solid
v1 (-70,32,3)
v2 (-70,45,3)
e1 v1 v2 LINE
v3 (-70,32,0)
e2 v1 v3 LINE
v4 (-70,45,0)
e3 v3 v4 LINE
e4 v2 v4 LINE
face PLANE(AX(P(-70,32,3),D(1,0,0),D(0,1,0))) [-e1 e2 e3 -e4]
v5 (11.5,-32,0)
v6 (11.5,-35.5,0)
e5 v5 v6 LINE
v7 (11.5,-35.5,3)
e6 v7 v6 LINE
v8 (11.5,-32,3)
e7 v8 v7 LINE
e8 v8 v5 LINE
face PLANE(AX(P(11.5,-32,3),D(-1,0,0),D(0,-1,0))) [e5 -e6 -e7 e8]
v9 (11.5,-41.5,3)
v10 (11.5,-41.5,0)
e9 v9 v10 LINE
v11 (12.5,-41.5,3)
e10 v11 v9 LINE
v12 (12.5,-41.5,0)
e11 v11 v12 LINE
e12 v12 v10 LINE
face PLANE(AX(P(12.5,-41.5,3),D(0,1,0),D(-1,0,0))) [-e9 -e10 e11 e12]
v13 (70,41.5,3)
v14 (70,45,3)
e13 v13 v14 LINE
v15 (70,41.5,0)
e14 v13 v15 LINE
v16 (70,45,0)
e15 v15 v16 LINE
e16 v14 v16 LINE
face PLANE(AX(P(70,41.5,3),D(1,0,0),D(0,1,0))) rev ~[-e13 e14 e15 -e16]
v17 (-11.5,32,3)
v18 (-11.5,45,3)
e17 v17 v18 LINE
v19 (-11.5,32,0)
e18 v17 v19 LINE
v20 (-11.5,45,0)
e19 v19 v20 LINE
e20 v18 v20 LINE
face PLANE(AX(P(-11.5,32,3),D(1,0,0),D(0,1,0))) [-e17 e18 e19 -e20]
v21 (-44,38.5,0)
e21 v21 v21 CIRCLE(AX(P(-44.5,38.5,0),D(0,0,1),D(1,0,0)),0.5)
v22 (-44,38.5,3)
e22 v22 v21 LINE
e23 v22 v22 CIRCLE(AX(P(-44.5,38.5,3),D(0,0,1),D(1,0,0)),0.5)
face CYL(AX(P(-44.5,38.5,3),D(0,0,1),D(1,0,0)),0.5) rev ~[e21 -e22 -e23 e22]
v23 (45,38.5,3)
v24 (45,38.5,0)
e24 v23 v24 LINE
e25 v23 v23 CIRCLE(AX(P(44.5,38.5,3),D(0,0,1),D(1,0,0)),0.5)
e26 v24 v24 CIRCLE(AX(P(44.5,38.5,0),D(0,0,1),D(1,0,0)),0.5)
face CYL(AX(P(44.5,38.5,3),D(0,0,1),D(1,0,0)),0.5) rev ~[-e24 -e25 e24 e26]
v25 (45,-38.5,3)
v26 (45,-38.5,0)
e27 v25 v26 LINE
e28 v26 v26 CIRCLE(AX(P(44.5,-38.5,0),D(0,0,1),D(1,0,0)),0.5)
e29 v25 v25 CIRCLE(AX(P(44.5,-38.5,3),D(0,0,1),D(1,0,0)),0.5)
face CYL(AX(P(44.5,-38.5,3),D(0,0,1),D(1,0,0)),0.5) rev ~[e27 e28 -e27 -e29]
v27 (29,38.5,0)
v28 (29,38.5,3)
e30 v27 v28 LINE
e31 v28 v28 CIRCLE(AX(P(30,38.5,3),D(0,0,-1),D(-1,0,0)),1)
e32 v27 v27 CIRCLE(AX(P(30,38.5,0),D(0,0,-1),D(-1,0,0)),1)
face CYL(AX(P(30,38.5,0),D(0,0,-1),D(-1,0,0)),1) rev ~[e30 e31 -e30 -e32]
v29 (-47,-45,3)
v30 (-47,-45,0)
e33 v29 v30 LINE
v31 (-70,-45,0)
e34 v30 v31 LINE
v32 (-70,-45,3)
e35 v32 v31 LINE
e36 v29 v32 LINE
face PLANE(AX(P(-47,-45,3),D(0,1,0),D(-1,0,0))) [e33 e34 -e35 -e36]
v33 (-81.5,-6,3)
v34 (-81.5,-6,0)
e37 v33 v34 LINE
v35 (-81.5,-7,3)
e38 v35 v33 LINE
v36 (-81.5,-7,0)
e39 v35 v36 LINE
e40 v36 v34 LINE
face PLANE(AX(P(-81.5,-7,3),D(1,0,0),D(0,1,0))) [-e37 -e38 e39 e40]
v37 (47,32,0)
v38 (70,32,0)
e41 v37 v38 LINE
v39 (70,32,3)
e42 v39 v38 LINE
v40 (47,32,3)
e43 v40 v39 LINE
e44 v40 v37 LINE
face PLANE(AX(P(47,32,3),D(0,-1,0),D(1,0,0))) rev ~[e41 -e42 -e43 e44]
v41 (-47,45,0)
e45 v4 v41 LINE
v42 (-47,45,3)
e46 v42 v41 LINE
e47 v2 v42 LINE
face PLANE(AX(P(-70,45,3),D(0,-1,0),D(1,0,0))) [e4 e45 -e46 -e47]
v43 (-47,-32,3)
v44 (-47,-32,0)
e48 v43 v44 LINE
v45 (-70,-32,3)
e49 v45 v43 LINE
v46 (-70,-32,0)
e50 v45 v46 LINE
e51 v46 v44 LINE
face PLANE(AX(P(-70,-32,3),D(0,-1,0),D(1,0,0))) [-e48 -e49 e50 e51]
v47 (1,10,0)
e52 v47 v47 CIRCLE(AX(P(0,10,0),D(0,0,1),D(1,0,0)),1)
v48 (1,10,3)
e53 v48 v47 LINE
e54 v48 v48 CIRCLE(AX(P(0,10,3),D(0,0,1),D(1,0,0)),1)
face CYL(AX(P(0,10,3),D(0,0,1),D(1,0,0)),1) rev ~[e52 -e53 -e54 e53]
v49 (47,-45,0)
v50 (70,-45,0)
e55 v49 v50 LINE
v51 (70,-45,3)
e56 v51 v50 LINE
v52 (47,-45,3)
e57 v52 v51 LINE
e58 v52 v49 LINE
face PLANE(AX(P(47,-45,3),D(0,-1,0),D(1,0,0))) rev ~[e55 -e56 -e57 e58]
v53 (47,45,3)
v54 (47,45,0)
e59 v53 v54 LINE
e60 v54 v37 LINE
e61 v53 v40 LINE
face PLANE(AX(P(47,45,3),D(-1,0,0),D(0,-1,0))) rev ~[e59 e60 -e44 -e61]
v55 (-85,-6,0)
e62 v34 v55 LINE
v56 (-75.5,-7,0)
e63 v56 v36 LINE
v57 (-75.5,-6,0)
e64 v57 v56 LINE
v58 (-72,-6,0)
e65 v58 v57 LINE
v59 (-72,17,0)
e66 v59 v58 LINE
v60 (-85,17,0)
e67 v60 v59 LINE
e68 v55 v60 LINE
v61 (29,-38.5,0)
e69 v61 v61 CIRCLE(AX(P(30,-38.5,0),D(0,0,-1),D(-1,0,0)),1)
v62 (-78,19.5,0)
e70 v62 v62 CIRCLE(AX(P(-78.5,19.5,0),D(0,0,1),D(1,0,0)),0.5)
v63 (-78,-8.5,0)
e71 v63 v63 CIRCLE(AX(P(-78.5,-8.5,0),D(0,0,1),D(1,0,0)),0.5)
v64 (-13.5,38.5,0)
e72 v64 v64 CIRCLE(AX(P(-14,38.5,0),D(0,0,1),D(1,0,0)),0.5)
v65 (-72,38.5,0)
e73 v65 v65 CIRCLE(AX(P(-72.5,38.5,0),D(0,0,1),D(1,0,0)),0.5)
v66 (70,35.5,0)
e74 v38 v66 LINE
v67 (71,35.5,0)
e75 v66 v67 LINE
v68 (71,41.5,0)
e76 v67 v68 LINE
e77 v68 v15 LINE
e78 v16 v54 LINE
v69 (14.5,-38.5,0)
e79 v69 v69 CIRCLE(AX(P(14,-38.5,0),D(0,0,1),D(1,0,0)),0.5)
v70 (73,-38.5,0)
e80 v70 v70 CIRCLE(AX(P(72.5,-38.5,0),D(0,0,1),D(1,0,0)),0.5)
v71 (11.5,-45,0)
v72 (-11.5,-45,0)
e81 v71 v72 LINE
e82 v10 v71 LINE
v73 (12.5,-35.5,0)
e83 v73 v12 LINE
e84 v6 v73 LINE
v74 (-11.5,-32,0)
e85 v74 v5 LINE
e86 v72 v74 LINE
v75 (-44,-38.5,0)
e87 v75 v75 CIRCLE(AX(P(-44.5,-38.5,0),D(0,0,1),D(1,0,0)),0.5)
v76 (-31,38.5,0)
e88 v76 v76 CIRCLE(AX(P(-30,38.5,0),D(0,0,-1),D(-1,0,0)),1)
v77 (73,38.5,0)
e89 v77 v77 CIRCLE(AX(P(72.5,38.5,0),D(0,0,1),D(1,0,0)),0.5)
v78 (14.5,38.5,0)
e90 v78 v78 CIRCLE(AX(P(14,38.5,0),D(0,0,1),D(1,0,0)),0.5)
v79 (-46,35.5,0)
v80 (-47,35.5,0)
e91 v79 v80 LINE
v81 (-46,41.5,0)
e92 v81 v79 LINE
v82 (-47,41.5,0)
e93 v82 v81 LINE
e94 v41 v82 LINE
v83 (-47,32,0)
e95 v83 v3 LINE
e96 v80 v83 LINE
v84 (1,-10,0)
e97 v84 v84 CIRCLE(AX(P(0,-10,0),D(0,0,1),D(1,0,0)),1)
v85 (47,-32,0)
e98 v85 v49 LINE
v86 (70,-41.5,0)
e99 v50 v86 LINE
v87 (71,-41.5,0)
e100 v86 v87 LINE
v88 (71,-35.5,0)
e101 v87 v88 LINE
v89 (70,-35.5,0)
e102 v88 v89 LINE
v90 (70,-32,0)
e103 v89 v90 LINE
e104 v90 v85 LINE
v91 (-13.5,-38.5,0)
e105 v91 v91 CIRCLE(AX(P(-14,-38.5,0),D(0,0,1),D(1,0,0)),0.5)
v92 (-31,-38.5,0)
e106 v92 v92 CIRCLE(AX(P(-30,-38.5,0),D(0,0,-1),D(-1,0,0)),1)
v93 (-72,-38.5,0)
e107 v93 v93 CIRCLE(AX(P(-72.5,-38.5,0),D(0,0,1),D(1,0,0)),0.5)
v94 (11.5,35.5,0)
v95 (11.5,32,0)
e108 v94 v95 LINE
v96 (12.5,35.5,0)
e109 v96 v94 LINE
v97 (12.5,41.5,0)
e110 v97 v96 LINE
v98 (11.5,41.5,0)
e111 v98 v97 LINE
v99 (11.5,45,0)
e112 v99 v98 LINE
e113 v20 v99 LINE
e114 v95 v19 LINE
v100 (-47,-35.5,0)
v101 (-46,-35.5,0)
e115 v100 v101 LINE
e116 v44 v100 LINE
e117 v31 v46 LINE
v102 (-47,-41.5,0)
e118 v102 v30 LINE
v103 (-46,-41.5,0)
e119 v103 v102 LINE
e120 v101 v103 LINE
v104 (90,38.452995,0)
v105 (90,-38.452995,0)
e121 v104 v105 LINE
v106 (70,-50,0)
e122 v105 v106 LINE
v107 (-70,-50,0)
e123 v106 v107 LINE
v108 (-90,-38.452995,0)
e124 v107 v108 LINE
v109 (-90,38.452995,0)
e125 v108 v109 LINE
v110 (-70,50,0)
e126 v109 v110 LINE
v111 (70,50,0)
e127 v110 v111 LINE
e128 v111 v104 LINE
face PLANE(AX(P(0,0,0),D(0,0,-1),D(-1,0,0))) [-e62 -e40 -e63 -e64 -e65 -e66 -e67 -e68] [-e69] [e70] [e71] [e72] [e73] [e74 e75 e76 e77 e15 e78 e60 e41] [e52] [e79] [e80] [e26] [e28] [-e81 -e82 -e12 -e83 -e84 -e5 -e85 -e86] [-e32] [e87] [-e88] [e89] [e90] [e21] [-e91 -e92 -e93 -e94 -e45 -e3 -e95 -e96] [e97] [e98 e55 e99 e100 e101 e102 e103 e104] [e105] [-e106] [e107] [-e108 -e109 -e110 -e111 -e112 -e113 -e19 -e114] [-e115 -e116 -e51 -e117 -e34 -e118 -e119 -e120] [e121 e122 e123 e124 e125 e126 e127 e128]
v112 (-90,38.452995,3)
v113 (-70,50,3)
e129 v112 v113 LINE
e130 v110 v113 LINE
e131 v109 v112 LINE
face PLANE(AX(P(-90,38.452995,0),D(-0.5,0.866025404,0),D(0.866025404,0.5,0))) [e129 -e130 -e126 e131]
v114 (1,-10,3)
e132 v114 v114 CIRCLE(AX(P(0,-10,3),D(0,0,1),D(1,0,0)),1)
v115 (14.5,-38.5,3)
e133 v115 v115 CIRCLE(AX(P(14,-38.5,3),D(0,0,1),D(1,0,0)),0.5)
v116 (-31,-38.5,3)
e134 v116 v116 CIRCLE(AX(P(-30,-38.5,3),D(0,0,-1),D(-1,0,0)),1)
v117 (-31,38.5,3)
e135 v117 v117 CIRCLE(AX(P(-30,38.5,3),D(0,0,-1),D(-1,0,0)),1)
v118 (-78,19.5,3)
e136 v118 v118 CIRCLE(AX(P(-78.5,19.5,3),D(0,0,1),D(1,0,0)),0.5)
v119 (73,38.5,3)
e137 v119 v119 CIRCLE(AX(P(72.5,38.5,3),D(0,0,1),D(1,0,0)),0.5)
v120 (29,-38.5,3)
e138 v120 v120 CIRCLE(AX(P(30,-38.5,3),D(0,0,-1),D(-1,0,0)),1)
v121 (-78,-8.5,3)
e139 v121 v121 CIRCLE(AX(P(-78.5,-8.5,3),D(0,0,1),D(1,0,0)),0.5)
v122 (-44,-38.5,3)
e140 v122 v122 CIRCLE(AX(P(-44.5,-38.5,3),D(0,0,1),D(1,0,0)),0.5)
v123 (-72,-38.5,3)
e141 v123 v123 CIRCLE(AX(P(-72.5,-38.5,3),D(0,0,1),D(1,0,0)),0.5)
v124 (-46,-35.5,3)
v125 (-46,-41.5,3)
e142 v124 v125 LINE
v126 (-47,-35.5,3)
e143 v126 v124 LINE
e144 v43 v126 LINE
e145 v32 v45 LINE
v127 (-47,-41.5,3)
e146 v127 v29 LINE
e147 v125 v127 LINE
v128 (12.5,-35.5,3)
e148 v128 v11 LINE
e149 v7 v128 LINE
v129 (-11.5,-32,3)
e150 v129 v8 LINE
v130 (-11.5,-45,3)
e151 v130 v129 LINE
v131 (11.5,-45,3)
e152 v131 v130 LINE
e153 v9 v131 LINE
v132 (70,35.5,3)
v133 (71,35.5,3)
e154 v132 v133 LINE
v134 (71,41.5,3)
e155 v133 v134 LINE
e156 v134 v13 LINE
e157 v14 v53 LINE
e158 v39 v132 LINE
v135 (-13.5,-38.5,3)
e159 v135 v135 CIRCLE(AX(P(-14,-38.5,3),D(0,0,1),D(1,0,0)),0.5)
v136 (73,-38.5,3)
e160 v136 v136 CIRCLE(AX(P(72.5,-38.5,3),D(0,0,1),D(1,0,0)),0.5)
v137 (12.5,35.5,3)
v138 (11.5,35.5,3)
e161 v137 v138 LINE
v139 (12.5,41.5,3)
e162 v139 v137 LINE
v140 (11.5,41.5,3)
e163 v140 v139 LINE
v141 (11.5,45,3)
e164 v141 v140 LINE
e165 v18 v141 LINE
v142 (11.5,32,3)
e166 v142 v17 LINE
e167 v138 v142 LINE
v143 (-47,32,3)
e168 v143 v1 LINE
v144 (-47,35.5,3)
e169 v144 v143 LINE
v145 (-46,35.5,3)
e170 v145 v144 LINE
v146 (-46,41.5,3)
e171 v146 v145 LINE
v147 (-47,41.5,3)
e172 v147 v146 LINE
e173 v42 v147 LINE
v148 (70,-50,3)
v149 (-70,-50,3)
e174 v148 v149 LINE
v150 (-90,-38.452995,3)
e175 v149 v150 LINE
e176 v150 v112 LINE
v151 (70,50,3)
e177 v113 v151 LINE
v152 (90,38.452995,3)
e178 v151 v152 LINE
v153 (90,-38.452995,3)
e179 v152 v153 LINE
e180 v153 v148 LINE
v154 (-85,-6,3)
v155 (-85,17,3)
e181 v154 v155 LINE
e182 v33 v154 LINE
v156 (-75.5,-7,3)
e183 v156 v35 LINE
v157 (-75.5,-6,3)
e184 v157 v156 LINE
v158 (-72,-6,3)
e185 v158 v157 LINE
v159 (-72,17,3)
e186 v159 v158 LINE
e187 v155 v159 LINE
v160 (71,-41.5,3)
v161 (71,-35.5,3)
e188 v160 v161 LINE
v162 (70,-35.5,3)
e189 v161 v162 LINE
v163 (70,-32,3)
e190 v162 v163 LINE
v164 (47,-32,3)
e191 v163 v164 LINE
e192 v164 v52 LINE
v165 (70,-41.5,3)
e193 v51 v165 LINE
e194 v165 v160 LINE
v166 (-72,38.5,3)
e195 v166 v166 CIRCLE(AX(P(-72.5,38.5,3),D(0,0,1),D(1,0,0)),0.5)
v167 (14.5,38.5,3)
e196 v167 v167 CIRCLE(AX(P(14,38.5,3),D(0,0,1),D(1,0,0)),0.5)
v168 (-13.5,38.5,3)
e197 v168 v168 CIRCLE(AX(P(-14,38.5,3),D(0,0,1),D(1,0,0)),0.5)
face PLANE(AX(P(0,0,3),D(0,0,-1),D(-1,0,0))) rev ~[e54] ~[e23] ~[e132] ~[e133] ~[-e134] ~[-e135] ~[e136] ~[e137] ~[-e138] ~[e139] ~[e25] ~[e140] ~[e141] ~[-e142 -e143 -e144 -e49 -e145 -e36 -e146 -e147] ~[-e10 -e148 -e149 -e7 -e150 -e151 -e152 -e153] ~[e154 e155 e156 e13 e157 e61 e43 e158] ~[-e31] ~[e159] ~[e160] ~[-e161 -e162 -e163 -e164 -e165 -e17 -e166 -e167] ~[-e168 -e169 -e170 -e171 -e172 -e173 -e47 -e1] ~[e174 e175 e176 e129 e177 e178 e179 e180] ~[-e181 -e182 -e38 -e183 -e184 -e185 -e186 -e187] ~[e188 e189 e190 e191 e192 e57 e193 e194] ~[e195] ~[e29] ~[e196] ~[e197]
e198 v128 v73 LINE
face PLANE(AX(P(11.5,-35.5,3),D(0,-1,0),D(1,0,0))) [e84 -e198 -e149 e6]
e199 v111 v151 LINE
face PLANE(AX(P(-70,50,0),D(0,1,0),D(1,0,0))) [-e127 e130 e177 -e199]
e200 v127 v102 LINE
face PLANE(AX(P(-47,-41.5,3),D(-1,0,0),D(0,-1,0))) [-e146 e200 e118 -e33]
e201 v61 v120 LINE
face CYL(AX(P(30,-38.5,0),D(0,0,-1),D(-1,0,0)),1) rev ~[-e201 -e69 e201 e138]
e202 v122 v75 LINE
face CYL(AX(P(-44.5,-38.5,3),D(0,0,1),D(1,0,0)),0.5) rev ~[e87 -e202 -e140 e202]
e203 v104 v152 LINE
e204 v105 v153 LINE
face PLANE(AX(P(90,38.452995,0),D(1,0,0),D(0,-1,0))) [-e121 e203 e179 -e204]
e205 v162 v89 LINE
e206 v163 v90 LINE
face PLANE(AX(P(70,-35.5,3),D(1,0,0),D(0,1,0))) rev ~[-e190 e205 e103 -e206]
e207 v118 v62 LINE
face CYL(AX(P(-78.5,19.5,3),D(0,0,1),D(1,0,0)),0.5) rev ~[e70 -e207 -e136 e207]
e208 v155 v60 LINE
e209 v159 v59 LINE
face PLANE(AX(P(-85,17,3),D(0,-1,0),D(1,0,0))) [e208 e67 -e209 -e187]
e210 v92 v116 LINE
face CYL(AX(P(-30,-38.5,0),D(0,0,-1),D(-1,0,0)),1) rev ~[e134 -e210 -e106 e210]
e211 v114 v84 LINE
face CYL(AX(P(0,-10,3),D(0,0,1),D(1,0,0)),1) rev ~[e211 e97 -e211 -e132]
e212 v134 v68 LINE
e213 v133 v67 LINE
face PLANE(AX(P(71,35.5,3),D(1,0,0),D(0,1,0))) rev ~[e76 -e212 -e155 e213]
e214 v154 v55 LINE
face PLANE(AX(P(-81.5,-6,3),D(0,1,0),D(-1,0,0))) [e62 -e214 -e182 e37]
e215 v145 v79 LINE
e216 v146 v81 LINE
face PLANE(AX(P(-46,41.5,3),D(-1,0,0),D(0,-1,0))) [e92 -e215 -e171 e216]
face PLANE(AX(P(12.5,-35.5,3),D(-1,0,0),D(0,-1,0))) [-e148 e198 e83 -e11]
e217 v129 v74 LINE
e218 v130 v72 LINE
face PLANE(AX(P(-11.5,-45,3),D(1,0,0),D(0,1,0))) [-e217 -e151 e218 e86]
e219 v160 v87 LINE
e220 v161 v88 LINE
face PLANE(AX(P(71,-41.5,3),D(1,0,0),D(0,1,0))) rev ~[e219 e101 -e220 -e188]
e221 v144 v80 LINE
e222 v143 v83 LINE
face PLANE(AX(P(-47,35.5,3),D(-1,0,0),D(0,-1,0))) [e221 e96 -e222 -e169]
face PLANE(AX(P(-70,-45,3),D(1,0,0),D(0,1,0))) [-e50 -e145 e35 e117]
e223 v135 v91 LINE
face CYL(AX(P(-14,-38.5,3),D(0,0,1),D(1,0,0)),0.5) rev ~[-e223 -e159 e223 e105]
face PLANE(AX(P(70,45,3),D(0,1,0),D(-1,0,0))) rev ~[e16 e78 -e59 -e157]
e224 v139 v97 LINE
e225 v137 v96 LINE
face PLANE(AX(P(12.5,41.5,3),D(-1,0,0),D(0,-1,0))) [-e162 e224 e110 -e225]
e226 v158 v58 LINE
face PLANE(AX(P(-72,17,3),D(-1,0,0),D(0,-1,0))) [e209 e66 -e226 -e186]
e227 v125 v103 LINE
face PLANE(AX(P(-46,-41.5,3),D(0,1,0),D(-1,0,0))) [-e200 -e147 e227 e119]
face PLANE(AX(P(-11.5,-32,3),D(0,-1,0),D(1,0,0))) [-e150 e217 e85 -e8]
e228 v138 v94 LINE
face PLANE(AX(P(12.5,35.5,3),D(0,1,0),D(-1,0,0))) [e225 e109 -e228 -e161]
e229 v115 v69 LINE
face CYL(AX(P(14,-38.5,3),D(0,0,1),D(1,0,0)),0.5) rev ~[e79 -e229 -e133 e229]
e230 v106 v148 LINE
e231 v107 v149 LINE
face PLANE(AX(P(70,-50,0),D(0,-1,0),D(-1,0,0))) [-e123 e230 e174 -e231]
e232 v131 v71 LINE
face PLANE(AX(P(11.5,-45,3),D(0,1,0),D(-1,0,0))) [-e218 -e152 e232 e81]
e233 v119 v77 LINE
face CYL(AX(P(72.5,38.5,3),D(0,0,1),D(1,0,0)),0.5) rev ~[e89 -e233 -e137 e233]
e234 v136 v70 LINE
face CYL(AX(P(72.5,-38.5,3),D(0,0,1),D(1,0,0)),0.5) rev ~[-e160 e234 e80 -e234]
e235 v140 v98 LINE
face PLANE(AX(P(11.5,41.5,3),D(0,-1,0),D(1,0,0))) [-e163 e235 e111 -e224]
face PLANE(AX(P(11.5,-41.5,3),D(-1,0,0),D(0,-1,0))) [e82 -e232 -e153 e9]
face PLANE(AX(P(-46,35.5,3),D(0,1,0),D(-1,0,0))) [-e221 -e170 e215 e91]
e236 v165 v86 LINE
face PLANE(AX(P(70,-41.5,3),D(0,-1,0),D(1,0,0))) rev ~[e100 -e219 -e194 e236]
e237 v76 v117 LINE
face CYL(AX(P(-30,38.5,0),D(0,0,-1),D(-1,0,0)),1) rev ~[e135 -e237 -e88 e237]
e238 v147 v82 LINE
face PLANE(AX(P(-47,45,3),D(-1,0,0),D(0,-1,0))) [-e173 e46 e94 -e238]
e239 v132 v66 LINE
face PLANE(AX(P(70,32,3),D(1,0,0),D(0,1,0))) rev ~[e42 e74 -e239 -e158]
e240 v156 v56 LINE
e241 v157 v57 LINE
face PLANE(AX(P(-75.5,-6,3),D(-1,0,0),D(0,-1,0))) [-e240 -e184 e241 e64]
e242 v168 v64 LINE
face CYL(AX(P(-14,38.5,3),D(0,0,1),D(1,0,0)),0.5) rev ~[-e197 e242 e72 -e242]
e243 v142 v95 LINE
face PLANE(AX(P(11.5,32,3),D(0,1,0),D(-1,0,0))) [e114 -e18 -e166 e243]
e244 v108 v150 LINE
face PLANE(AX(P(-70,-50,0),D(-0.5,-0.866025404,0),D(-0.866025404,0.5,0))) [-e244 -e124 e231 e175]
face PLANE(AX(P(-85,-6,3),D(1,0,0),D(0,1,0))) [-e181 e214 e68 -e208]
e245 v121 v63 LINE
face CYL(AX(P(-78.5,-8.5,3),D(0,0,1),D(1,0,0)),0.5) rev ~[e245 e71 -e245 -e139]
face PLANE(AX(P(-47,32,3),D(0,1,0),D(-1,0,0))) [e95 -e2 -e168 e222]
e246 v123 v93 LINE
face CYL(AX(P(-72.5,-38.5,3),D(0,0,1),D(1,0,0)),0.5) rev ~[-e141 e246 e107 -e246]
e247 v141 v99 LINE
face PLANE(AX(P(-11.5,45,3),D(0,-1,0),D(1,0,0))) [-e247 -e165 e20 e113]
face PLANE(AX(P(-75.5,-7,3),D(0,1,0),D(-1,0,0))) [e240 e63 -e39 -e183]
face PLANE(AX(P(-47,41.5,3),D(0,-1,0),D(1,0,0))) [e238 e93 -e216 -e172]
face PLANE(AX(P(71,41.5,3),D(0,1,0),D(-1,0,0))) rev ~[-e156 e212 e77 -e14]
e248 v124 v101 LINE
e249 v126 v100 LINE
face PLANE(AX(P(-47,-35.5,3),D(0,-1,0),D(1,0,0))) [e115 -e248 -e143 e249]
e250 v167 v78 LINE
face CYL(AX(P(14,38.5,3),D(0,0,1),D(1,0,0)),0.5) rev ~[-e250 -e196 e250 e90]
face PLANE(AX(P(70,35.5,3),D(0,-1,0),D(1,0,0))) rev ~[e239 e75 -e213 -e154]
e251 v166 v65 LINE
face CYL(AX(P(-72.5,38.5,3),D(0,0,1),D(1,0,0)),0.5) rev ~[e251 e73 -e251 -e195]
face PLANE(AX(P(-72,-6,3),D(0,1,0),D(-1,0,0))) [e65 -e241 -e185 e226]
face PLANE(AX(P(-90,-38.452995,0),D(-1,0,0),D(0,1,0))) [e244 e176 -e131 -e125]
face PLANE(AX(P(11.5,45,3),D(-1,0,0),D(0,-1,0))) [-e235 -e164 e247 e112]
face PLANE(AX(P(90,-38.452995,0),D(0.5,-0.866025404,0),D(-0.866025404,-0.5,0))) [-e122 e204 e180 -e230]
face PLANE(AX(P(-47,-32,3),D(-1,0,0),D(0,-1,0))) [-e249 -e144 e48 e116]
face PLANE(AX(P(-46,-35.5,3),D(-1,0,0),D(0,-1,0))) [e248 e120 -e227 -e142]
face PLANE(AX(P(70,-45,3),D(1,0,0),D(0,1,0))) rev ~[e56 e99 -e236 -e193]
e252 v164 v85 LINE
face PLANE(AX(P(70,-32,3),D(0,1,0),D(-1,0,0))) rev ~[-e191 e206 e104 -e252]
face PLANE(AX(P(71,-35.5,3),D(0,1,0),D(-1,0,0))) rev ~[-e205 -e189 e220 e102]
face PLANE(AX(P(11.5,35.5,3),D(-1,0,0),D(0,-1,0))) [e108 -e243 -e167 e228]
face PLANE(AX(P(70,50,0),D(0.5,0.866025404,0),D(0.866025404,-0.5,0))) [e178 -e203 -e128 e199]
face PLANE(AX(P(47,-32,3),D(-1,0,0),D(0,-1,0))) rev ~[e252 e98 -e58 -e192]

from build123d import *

# Parameters (mm, degrees)
BOSS_EXTRUDE1_DEPTH = 3
CUT_EXTRUDE1_REACH  = 105
SKETCH2_R           = 0.5
SKETCH2_R_2         = 1
CUT_EXTRUDE2_REACH  = 105
SKETCH3_R           = 0.5
CUT_EXTRUDE3_REACH  = 105
SKETCH5_R           = 1


with BuildPart() as part:
    # Sketch1 → Boss-Extrude1 (new body)
    with BuildSketch(Plane.XY):
        Polygon((70, 50), (90, 38.452994616), (90, -38.452994616), (70, -50), (-70, -50), (-90, -38.452994616), (-90, 38.452994616), (-70, 50), align=None)
    extrude(amount=BOSS_EXTRUDE1_DEPTH)

    # Sketch2 → Cut-Extrude1 (cut, up to next)
    with BuildSketch(Plane.XY.offset(3), mode=Mode.PRIVATE) as cut_extrude1_sk1:
        with Locations((-72.5, 38.5)):
            Circle(SKETCH2_R)
    cut_extrude1_tool1 = extrude(cut_extrude1_sk1.sketch, amount=-CUT_EXTRUDE1_REACH, mode=Mode.PRIVATE) & part.part
    # Sketch2 → Cut-Extrude1 (cut, up to next)
    with BuildSketch(Plane.XY.offset(3), mode=Mode.PRIVATE) as cut_extrude1_sk2:
        with Locations((-44.5, 38.5)):
            Circle(SKETCH2_R)
    cut_extrude1_tool2 = extrude(cut_extrude1_sk2.sketch, amount=-CUT_EXTRUDE1_REACH, mode=Mode.PRIVATE) & part.part
    # Sketch2 → Cut-Extrude1 (cut, up to next)
    with BuildSketch(Plane.XY.offset(3), mode=Mode.PRIVATE) as cut_extrude1_sk3:
        with Locations((-14, 38.5)):
            Circle(SKETCH2_R)
    cut_extrude1_tool3 = extrude(cut_extrude1_sk3.sketch, amount=-CUT_EXTRUDE1_REACH, mode=Mode.PRIVATE) & part.part
    # Sketch2 → Cut-Extrude1 (cut, up to next)
    with BuildSketch(Plane.XY.offset(3), mode=Mode.PRIVATE) as cut_extrude1_sk4:
        with Locations((14, 38.5)):
            Circle(SKETCH2_R)
    cut_extrude1_tool4 = extrude(cut_extrude1_sk4.sketch, amount=-CUT_EXTRUDE1_REACH, mode=Mode.PRIVATE) & part.part
    # Sketch2 → Cut-Extrude1 (cut, up to next)
    with BuildSketch(Plane.XY.offset(3), mode=Mode.PRIVATE) as cut_extrude1_sk5:
        with Locations((44.5, 38.5)):
            Circle(SKETCH2_R)
    cut_extrude1_tool5 = extrude(cut_extrude1_sk5.sketch, amount=-CUT_EXTRUDE1_REACH, mode=Mode.PRIVATE) & part.part
    # Sketch2 → Cut-Extrude1 (cut, up to next)
    with BuildSketch(Plane.XY.offset(3), mode=Mode.PRIVATE) as cut_extrude1_sk6:
        with Locations((72.5, 38.5)):
            Circle(SKETCH2_R)
    cut_extrude1_tool6 = extrude(cut_extrude1_sk6.sketch, amount=-CUT_EXTRUDE1_REACH, mode=Mode.PRIVATE) & part.part
    # Sketch2 → Cut-Extrude1 (cut, up to next)
    with BuildSketch(Plane.XY.offset(3), mode=Mode.PRIVATE) as cut_extrude1_sk7:
        with Locations((72.5, -38.5)):
            Circle(SKETCH2_R)
    cut_extrude1_tool7 = extrude(cut_extrude1_sk7.sketch, amount=-CUT_EXTRUDE1_REACH, mode=Mode.PRIVATE) & part.part
    # Sketch2 → Cut-Extrude1 (cut, up to next)
    with BuildSketch(Plane.XY.offset(3), mode=Mode.PRIVATE) as cut_extrude1_sk8:
        with Locations((44.5, -38.5)):
            Circle(SKETCH2_R)
    cut_extrude1_tool8 = extrude(cut_extrude1_sk8.sketch, amount=-CUT_EXTRUDE1_REACH, mode=Mode.PRIVATE) & part.part
    # Sketch2 → Cut-Extrude1 (cut, up to next)
    with BuildSketch(Plane.XY.offset(3), mode=Mode.PRIVATE) as cut_extrude1_sk9:
        with Locations((14, -38.5)):
            Circle(SKETCH2_R)
    cut_extrude1_tool9 = extrude(cut_extrude1_sk9.sketch, amount=-CUT_EXTRUDE1_REACH, mode=Mode.PRIVATE) & part.part
    # Sketch2 → Cut-Extrude1 (cut, up to next)
    with BuildSketch(Plane.XY.offset(3), mode=Mode.PRIVATE) as cut_extrude1_sk10:
        with Locations((-14, -38.5)):
            Circle(SKETCH2_R)
    cut_extrude1_tool10 = extrude(cut_extrude1_sk10.sketch, amount=-CUT_EXTRUDE1_REACH, mode=Mode.PRIVATE) & part.part
    # Sketch2 → Cut-Extrude1 (cut, up to next)
    with BuildSketch(Plane.XY.offset(3), mode=Mode.PRIVATE) as cut_extrude1_sk11:
        with Locations((-44.5, -38.5)):
            Circle(SKETCH2_R)
    cut_extrude1_tool11 = extrude(cut_extrude1_sk11.sketch, amount=-CUT_EXTRUDE1_REACH, mode=Mode.PRIVATE) & part.part
    # Sketch2 → Cut-Extrude1 (cut, up to next)
    with BuildSketch(Plane.XY.offset(3), mode=Mode.PRIVATE) as cut_extrude1_sk12:
        with Locations((-72.5, -38.5)):
            Circle(SKETCH2_R)
    cut_extrude1_tool12 = extrude(cut_extrude1_sk12.sketch, amount=-CUT_EXTRUDE1_REACH, mode=Mode.PRIVATE) & part.part
    # Sketch2 → Cut-Extrude1 (cut, up to next)
    with BuildSketch(Plane.XY.offset(3), mode=Mode.PRIVATE) as cut_extrude1_sk13:
        with Locations((0, 10)):
            Circle(SKETCH2_R_2)
    cut_extrude1_tool13 = extrude(cut_extrude1_sk13.sketch, amount=-CUT_EXTRUDE1_REACH, mode=Mode.PRIVATE) & part.part
    # Sketch2 → Cut-Extrude1 (cut, up to next)
    with BuildSketch(Plane.XY.offset(3), mode=Mode.PRIVATE) as cut_extrude1_sk14:
        with Locations((0, -10)):
            Circle(SKETCH2_R_2)
    cut_extrude1_tool14 = extrude(cut_extrude1_sk14.sketch, amount=-CUT_EXTRUDE1_REACH, mode=Mode.PRIVATE) & part.part
    # Sketch2 → Cut-Extrude1 (cut, up to next)
    with BuildSketch(Plane.XY.offset(3), mode=Mode.PRIVATE) as cut_extrude1_sk15:
        Polygon((-11.5, 45), (11.5, 45), (11.5, 41.5), (12.5, 41.5), (12.5, 35.5), (11.5, 35.5), (11.5, 32), (-11.5, 32), align=None)
    cut_extrude1_tool15 = extrude(cut_extrude1_sk15.sketch, amount=-CUT_EXTRUDE1_REACH, mode=Mode.PRIVATE) & part.part
    # Sketch2 → Cut-Extrude1 (cut, up to next)
    with BuildSketch(Plane.XY.offset(3), mode=Mode.PRIVATE) as cut_extrude1_sk16:
        Polygon((-11.5, -32), (11.5, -32), (11.5, -35.5), (12.5, -35.5), (12.5, -41.5), (11.5, -41.5), (11.5, -45), (-11.5, -45), align=None)
    cut_extrude1_tool16 = extrude(cut_extrude1_sk16.sketch, amount=-CUT_EXTRUDE1_REACH, mode=Mode.PRIVATE) & part.part
    # Sketch2 → Cut-Extrude1 (cut, up to next)
    with BuildSketch(Plane.XY.offset(3), mode=Mode.PRIVATE) as cut_extrude1_sk17:
        Polygon((-70, 45), (-47, 45), (-47, 41.5), (-46, 41.5), (-46, 35.5), (-47, 35.5), (-47, 32), (-70, 32), align=None)
    cut_extrude1_tool17 = extrude(cut_extrude1_sk17.sketch, amount=-CUT_EXTRUDE1_REACH, mode=Mode.PRIVATE) & part.part
    # Sketch2 → Cut-Extrude1 (cut, up to next)
    with BuildSketch(Plane.XY.offset(3), mode=Mode.PRIVATE) as cut_extrude1_sk18:
        Polygon((-70, -32), (-47, -32), (-47, -35.5), (-46, -35.5), (-46, -41.5), (-47, -41.5), (-47, -45), (-70, -45), align=None)
    cut_extrude1_tool18 = extrude(cut_extrude1_sk18.sketch, amount=-CUT_EXTRUDE1_REACH, mode=Mode.PRIVATE) & part.part
    # Sketch2 → Cut-Extrude1 (cut, up to next)
    with BuildSketch(Plane.XY.offset(3), mode=Mode.PRIVATE) as cut_extrude1_sk19:
        Polygon((70, -32), (47, -32), (47, -45), (70, -45), (70, -41.5), (71, -41.5), (71, -35.5), (70, -35.5), align=None)
    cut_extrude1_tool19 = extrude(cut_extrude1_sk19.sketch, amount=-CUT_EXTRUDE1_REACH, mode=Mode.PRIVATE) & part.part
    # Sketch2 → Cut-Extrude1 (cut, up to next)
    with BuildSketch(Plane.XY.offset(3), mode=Mode.PRIVATE) as cut_extrude1_sk20:
        Polygon((70, 45), (47, 45), (47, 32), (70, 32), (70, 35.5), (71, 35.5), (71, 41.5), (70, 41.5), align=None)
    cut_extrude1_tool20 = extrude(cut_extrude1_sk20.sketch, amount=-CUT_EXTRUDE1_REACH, mode=Mode.PRIVATE) & part.part
    add(cut_extrude1_tool1.solids().sort_by_distance((-72.5, 38.5, 3))[0], mode=Mode.SUBTRACT)
    add(cut_extrude1_tool2.solids().sort_by_distance((-44.5, 38.5, 3))[0], mode=Mode.SUBTRACT)
    add(cut_extrude1_tool3.solids().sort_by_distance((-14, 38.5, 3))[0], mode=Mode.SUBTRACT)
    add(cut_extrude1_tool4.solids().sort_by_distance((14, 38.5, 3))[0], mode=Mode.SUBTRACT)
    add(cut_extrude1_tool5.solids().sort_by_distance((44.5, 38.5, 3))[0], mode=Mode.SUBTRACT)
    add(cut_extrude1_tool6.solids().sort_by_distance((72.5, 38.5, 3))[0], mode=Mode.SUBTRACT)
    add(cut_extrude1_tool7.solids().sort_by_distance((72.5, -38.5, 3))[0], mode=Mode.SUBTRACT)
    add(cut_extrude1_tool8.solids().sort_by_distance((44.5, -38.5, 3))[0], mode=Mode.SUBTRACT)
    add(cut_extrude1_tool9.solids().sort_by_distance((14, -38.5, 3))[0], mode=Mode.SUBTRACT)
    add(cut_extrude1_tool10.solids().sort_by_distance((-14, -38.5, 3))[0], mode=Mode.SUBTRACT)
    add(cut_extrude1_tool11.solids().sort_by_distance((-44.5, -38.5, 3))[0], mode=Mode.SUBTRACT)
    add(cut_extrude1_tool12.solids().sort_by_distance((-72.5, -38.5, 3))[0], mode=Mode.SUBTRACT)
    add(cut_extrude1_tool13.solids().sort_by_distance((0, 10, 3))[0], mode=Mode.SUBTRACT)
    add(cut_extrude1_tool14.solids().sort_by_distance((0, -10, 3))[0], mode=Mode.SUBTRACT)
    add(cut_extrude1_tool15.solids().sort_by_distance((0.236066, 38.5, 3))[0], mode=Mode.SUBTRACT)
    add(cut_extrude1_tool16.solids().sort_by_distance((0.236066, -38.5, 3))[0], mode=Mode.SUBTRACT)
    add(cut_extrude1_tool17.solids().sort_by_distance((-58.263934, 38.5, 3))[0], mode=Mode.SUBTRACT)
    add(cut_extrude1_tool18.solids().sort_by_distance((-58.263934, -38.5, 3))[0], mode=Mode.SUBTRACT)
    add(cut_extrude1_tool19.solids().sort_by_distance((58.736066, -38.5, 3))[0], mode=Mode.SUBTRACT)
    add(cut_extrude1_tool20.solids().sort_by_distance((58.736066, 38.5, 3))[0], mode=Mode.SUBTRACT)

    # Sketch3 → Cut-Extrude2 (cut, up to next)
    with BuildSketch(Plane.XY.offset(3), mode=Mode.PRIVATE) as cut_extrude2_sk1:
        with Locations((-78.5, 19.5)):
            Circle(SKETCH3_R)
    cut_extrude2_tool1 = extrude(cut_extrude2_sk1.sketch, amount=-CUT_EXTRUDE2_REACH, mode=Mode.PRIVATE) & part.part
    # Sketch3 → Cut-Extrude2 (cut, up to next)
    with BuildSketch(Plane.XY.offset(3), mode=Mode.PRIVATE) as cut_extrude2_sk2:
        with Locations((-78.5, -8.5)):
            Circle(SKETCH3_R)
    cut_extrude2_tool2 = extrude(cut_extrude2_sk2.sketch, amount=-CUT_EXTRUDE2_REACH, mode=Mode.PRIVATE) & part.part
    # Sketch3 → Cut-Extrude2 (cut, up to next)
    with BuildSketch(Plane.XY.offset(3), mode=Mode.PRIVATE) as cut_extrude2_sk3:
        Polygon((-85, 17), (-72, 17), (-72, -6), (-75.5, -6), (-75.5, -7), (-81.5, -7), (-81.5, -6), (-85, -6), align=None)
    cut_extrude2_tool3 = extrude(cut_extrude2_sk3.sketch, amount=-CUT_EXTRUDE2_REACH, mode=Mode.PRIVATE) & part.part
    add(cut_extrude2_tool1.solids().sort_by_distance((-78.5, 19.5, 3))[0], mode=Mode.SUBTRACT)
    add(cut_extrude2_tool2.solids().sort_by_distance((-78.5, -8.5, 3))[0], mode=Mode.SUBTRACT)
    add(cut_extrude2_tool3.solids().sort_by_distance((-78.5, 5.263934, 3))[0], mode=Mode.SUBTRACT)

    # Sketch5 → Cut-Extrude3 (cut, up to next)
    with BuildSketch(Plane(origin=(0, 0, 0), x_dir=(-1, 0, 0), z_dir=(0, 0, -1)), mode=Mode.PRIVATE) as cut_extrude3_sk1:
        with Locations((30, 38.5)):
            Circle(SKETCH5_R)
    cut_extrude3_tool1 = extrude(cut_extrude3_sk1.sketch, amount=-CUT_EXTRUDE3_REACH, mode=Mode.PRIVATE) & part.part
    # Sketch5 → Cut-Extrude3 (cut, up to next)
    with BuildSketch(Plane(origin=(0, 0, 0), x_dir=(-1, 0, 0), z_dir=(0, 0, -1)), mode=Mode.PRIVATE) as cut_extrude3_sk2:
        with Locations((-30, 38.5)):
            Circle(SKETCH5_R)
    cut_extrude3_tool2 = extrude(cut_extrude3_sk2.sketch, amount=-CUT_EXTRUDE3_REACH, mode=Mode.PRIVATE) & part.part
    # Sketch5 → Cut-Extrude3 (cut, up to next)
    with BuildSketch(Plane(origin=(0, 0, 0), x_dir=(-1, 0, 0), z_dir=(0, 0, -1)), mode=Mode.PRIVATE) as cut_extrude3_sk3:
        with Locations((30, -38.5)):
            Circle(SKETCH5_R)
    cut_extrude3_tool3 = extrude(cut_extrude3_sk3.sketch, amount=-CUT_EXTRUDE3_REACH, mode=Mode.PRIVATE) & part.part
    # Sketch5 → Cut-Extrude3 (cut, up to next)
    with BuildSketch(Plane(origin=(0, 0, 0), x_dir=(-1, 0, 0), z_dir=(0, 0, -1)), mode=Mode.PRIVATE) as cut_extrude3_sk4:
        with Locations((-30, -38.5)):
            Circle(SKETCH5_R)
    cut_extrude3_tool4 = extrude(cut_extrude3_sk4.sketch, amount=-CUT_EXTRUDE3_REACH, mode=Mode.PRIVATE) & part.part
    add(cut_extrude3_tool1.solids().sort_by_distance((-30, 38.5, 0))[0], mode=Mode.SUBTRACT)
    add(cut_extrude3_tool2.solids().sort_by_distance((30, 38.5, 0))[0], mode=Mode.SUBTRACT)
    add(cut_extrude3_tool3.solids().sort_by_distance((-30, -38.5, 0))[0], mode=Mode.SUBTRACT)
    add(cut_extrude3_tool4.solids().sort_by_distance((30, -38.5, 0))[0], mode=Mode.SUBTRACT)


solid = part.part
